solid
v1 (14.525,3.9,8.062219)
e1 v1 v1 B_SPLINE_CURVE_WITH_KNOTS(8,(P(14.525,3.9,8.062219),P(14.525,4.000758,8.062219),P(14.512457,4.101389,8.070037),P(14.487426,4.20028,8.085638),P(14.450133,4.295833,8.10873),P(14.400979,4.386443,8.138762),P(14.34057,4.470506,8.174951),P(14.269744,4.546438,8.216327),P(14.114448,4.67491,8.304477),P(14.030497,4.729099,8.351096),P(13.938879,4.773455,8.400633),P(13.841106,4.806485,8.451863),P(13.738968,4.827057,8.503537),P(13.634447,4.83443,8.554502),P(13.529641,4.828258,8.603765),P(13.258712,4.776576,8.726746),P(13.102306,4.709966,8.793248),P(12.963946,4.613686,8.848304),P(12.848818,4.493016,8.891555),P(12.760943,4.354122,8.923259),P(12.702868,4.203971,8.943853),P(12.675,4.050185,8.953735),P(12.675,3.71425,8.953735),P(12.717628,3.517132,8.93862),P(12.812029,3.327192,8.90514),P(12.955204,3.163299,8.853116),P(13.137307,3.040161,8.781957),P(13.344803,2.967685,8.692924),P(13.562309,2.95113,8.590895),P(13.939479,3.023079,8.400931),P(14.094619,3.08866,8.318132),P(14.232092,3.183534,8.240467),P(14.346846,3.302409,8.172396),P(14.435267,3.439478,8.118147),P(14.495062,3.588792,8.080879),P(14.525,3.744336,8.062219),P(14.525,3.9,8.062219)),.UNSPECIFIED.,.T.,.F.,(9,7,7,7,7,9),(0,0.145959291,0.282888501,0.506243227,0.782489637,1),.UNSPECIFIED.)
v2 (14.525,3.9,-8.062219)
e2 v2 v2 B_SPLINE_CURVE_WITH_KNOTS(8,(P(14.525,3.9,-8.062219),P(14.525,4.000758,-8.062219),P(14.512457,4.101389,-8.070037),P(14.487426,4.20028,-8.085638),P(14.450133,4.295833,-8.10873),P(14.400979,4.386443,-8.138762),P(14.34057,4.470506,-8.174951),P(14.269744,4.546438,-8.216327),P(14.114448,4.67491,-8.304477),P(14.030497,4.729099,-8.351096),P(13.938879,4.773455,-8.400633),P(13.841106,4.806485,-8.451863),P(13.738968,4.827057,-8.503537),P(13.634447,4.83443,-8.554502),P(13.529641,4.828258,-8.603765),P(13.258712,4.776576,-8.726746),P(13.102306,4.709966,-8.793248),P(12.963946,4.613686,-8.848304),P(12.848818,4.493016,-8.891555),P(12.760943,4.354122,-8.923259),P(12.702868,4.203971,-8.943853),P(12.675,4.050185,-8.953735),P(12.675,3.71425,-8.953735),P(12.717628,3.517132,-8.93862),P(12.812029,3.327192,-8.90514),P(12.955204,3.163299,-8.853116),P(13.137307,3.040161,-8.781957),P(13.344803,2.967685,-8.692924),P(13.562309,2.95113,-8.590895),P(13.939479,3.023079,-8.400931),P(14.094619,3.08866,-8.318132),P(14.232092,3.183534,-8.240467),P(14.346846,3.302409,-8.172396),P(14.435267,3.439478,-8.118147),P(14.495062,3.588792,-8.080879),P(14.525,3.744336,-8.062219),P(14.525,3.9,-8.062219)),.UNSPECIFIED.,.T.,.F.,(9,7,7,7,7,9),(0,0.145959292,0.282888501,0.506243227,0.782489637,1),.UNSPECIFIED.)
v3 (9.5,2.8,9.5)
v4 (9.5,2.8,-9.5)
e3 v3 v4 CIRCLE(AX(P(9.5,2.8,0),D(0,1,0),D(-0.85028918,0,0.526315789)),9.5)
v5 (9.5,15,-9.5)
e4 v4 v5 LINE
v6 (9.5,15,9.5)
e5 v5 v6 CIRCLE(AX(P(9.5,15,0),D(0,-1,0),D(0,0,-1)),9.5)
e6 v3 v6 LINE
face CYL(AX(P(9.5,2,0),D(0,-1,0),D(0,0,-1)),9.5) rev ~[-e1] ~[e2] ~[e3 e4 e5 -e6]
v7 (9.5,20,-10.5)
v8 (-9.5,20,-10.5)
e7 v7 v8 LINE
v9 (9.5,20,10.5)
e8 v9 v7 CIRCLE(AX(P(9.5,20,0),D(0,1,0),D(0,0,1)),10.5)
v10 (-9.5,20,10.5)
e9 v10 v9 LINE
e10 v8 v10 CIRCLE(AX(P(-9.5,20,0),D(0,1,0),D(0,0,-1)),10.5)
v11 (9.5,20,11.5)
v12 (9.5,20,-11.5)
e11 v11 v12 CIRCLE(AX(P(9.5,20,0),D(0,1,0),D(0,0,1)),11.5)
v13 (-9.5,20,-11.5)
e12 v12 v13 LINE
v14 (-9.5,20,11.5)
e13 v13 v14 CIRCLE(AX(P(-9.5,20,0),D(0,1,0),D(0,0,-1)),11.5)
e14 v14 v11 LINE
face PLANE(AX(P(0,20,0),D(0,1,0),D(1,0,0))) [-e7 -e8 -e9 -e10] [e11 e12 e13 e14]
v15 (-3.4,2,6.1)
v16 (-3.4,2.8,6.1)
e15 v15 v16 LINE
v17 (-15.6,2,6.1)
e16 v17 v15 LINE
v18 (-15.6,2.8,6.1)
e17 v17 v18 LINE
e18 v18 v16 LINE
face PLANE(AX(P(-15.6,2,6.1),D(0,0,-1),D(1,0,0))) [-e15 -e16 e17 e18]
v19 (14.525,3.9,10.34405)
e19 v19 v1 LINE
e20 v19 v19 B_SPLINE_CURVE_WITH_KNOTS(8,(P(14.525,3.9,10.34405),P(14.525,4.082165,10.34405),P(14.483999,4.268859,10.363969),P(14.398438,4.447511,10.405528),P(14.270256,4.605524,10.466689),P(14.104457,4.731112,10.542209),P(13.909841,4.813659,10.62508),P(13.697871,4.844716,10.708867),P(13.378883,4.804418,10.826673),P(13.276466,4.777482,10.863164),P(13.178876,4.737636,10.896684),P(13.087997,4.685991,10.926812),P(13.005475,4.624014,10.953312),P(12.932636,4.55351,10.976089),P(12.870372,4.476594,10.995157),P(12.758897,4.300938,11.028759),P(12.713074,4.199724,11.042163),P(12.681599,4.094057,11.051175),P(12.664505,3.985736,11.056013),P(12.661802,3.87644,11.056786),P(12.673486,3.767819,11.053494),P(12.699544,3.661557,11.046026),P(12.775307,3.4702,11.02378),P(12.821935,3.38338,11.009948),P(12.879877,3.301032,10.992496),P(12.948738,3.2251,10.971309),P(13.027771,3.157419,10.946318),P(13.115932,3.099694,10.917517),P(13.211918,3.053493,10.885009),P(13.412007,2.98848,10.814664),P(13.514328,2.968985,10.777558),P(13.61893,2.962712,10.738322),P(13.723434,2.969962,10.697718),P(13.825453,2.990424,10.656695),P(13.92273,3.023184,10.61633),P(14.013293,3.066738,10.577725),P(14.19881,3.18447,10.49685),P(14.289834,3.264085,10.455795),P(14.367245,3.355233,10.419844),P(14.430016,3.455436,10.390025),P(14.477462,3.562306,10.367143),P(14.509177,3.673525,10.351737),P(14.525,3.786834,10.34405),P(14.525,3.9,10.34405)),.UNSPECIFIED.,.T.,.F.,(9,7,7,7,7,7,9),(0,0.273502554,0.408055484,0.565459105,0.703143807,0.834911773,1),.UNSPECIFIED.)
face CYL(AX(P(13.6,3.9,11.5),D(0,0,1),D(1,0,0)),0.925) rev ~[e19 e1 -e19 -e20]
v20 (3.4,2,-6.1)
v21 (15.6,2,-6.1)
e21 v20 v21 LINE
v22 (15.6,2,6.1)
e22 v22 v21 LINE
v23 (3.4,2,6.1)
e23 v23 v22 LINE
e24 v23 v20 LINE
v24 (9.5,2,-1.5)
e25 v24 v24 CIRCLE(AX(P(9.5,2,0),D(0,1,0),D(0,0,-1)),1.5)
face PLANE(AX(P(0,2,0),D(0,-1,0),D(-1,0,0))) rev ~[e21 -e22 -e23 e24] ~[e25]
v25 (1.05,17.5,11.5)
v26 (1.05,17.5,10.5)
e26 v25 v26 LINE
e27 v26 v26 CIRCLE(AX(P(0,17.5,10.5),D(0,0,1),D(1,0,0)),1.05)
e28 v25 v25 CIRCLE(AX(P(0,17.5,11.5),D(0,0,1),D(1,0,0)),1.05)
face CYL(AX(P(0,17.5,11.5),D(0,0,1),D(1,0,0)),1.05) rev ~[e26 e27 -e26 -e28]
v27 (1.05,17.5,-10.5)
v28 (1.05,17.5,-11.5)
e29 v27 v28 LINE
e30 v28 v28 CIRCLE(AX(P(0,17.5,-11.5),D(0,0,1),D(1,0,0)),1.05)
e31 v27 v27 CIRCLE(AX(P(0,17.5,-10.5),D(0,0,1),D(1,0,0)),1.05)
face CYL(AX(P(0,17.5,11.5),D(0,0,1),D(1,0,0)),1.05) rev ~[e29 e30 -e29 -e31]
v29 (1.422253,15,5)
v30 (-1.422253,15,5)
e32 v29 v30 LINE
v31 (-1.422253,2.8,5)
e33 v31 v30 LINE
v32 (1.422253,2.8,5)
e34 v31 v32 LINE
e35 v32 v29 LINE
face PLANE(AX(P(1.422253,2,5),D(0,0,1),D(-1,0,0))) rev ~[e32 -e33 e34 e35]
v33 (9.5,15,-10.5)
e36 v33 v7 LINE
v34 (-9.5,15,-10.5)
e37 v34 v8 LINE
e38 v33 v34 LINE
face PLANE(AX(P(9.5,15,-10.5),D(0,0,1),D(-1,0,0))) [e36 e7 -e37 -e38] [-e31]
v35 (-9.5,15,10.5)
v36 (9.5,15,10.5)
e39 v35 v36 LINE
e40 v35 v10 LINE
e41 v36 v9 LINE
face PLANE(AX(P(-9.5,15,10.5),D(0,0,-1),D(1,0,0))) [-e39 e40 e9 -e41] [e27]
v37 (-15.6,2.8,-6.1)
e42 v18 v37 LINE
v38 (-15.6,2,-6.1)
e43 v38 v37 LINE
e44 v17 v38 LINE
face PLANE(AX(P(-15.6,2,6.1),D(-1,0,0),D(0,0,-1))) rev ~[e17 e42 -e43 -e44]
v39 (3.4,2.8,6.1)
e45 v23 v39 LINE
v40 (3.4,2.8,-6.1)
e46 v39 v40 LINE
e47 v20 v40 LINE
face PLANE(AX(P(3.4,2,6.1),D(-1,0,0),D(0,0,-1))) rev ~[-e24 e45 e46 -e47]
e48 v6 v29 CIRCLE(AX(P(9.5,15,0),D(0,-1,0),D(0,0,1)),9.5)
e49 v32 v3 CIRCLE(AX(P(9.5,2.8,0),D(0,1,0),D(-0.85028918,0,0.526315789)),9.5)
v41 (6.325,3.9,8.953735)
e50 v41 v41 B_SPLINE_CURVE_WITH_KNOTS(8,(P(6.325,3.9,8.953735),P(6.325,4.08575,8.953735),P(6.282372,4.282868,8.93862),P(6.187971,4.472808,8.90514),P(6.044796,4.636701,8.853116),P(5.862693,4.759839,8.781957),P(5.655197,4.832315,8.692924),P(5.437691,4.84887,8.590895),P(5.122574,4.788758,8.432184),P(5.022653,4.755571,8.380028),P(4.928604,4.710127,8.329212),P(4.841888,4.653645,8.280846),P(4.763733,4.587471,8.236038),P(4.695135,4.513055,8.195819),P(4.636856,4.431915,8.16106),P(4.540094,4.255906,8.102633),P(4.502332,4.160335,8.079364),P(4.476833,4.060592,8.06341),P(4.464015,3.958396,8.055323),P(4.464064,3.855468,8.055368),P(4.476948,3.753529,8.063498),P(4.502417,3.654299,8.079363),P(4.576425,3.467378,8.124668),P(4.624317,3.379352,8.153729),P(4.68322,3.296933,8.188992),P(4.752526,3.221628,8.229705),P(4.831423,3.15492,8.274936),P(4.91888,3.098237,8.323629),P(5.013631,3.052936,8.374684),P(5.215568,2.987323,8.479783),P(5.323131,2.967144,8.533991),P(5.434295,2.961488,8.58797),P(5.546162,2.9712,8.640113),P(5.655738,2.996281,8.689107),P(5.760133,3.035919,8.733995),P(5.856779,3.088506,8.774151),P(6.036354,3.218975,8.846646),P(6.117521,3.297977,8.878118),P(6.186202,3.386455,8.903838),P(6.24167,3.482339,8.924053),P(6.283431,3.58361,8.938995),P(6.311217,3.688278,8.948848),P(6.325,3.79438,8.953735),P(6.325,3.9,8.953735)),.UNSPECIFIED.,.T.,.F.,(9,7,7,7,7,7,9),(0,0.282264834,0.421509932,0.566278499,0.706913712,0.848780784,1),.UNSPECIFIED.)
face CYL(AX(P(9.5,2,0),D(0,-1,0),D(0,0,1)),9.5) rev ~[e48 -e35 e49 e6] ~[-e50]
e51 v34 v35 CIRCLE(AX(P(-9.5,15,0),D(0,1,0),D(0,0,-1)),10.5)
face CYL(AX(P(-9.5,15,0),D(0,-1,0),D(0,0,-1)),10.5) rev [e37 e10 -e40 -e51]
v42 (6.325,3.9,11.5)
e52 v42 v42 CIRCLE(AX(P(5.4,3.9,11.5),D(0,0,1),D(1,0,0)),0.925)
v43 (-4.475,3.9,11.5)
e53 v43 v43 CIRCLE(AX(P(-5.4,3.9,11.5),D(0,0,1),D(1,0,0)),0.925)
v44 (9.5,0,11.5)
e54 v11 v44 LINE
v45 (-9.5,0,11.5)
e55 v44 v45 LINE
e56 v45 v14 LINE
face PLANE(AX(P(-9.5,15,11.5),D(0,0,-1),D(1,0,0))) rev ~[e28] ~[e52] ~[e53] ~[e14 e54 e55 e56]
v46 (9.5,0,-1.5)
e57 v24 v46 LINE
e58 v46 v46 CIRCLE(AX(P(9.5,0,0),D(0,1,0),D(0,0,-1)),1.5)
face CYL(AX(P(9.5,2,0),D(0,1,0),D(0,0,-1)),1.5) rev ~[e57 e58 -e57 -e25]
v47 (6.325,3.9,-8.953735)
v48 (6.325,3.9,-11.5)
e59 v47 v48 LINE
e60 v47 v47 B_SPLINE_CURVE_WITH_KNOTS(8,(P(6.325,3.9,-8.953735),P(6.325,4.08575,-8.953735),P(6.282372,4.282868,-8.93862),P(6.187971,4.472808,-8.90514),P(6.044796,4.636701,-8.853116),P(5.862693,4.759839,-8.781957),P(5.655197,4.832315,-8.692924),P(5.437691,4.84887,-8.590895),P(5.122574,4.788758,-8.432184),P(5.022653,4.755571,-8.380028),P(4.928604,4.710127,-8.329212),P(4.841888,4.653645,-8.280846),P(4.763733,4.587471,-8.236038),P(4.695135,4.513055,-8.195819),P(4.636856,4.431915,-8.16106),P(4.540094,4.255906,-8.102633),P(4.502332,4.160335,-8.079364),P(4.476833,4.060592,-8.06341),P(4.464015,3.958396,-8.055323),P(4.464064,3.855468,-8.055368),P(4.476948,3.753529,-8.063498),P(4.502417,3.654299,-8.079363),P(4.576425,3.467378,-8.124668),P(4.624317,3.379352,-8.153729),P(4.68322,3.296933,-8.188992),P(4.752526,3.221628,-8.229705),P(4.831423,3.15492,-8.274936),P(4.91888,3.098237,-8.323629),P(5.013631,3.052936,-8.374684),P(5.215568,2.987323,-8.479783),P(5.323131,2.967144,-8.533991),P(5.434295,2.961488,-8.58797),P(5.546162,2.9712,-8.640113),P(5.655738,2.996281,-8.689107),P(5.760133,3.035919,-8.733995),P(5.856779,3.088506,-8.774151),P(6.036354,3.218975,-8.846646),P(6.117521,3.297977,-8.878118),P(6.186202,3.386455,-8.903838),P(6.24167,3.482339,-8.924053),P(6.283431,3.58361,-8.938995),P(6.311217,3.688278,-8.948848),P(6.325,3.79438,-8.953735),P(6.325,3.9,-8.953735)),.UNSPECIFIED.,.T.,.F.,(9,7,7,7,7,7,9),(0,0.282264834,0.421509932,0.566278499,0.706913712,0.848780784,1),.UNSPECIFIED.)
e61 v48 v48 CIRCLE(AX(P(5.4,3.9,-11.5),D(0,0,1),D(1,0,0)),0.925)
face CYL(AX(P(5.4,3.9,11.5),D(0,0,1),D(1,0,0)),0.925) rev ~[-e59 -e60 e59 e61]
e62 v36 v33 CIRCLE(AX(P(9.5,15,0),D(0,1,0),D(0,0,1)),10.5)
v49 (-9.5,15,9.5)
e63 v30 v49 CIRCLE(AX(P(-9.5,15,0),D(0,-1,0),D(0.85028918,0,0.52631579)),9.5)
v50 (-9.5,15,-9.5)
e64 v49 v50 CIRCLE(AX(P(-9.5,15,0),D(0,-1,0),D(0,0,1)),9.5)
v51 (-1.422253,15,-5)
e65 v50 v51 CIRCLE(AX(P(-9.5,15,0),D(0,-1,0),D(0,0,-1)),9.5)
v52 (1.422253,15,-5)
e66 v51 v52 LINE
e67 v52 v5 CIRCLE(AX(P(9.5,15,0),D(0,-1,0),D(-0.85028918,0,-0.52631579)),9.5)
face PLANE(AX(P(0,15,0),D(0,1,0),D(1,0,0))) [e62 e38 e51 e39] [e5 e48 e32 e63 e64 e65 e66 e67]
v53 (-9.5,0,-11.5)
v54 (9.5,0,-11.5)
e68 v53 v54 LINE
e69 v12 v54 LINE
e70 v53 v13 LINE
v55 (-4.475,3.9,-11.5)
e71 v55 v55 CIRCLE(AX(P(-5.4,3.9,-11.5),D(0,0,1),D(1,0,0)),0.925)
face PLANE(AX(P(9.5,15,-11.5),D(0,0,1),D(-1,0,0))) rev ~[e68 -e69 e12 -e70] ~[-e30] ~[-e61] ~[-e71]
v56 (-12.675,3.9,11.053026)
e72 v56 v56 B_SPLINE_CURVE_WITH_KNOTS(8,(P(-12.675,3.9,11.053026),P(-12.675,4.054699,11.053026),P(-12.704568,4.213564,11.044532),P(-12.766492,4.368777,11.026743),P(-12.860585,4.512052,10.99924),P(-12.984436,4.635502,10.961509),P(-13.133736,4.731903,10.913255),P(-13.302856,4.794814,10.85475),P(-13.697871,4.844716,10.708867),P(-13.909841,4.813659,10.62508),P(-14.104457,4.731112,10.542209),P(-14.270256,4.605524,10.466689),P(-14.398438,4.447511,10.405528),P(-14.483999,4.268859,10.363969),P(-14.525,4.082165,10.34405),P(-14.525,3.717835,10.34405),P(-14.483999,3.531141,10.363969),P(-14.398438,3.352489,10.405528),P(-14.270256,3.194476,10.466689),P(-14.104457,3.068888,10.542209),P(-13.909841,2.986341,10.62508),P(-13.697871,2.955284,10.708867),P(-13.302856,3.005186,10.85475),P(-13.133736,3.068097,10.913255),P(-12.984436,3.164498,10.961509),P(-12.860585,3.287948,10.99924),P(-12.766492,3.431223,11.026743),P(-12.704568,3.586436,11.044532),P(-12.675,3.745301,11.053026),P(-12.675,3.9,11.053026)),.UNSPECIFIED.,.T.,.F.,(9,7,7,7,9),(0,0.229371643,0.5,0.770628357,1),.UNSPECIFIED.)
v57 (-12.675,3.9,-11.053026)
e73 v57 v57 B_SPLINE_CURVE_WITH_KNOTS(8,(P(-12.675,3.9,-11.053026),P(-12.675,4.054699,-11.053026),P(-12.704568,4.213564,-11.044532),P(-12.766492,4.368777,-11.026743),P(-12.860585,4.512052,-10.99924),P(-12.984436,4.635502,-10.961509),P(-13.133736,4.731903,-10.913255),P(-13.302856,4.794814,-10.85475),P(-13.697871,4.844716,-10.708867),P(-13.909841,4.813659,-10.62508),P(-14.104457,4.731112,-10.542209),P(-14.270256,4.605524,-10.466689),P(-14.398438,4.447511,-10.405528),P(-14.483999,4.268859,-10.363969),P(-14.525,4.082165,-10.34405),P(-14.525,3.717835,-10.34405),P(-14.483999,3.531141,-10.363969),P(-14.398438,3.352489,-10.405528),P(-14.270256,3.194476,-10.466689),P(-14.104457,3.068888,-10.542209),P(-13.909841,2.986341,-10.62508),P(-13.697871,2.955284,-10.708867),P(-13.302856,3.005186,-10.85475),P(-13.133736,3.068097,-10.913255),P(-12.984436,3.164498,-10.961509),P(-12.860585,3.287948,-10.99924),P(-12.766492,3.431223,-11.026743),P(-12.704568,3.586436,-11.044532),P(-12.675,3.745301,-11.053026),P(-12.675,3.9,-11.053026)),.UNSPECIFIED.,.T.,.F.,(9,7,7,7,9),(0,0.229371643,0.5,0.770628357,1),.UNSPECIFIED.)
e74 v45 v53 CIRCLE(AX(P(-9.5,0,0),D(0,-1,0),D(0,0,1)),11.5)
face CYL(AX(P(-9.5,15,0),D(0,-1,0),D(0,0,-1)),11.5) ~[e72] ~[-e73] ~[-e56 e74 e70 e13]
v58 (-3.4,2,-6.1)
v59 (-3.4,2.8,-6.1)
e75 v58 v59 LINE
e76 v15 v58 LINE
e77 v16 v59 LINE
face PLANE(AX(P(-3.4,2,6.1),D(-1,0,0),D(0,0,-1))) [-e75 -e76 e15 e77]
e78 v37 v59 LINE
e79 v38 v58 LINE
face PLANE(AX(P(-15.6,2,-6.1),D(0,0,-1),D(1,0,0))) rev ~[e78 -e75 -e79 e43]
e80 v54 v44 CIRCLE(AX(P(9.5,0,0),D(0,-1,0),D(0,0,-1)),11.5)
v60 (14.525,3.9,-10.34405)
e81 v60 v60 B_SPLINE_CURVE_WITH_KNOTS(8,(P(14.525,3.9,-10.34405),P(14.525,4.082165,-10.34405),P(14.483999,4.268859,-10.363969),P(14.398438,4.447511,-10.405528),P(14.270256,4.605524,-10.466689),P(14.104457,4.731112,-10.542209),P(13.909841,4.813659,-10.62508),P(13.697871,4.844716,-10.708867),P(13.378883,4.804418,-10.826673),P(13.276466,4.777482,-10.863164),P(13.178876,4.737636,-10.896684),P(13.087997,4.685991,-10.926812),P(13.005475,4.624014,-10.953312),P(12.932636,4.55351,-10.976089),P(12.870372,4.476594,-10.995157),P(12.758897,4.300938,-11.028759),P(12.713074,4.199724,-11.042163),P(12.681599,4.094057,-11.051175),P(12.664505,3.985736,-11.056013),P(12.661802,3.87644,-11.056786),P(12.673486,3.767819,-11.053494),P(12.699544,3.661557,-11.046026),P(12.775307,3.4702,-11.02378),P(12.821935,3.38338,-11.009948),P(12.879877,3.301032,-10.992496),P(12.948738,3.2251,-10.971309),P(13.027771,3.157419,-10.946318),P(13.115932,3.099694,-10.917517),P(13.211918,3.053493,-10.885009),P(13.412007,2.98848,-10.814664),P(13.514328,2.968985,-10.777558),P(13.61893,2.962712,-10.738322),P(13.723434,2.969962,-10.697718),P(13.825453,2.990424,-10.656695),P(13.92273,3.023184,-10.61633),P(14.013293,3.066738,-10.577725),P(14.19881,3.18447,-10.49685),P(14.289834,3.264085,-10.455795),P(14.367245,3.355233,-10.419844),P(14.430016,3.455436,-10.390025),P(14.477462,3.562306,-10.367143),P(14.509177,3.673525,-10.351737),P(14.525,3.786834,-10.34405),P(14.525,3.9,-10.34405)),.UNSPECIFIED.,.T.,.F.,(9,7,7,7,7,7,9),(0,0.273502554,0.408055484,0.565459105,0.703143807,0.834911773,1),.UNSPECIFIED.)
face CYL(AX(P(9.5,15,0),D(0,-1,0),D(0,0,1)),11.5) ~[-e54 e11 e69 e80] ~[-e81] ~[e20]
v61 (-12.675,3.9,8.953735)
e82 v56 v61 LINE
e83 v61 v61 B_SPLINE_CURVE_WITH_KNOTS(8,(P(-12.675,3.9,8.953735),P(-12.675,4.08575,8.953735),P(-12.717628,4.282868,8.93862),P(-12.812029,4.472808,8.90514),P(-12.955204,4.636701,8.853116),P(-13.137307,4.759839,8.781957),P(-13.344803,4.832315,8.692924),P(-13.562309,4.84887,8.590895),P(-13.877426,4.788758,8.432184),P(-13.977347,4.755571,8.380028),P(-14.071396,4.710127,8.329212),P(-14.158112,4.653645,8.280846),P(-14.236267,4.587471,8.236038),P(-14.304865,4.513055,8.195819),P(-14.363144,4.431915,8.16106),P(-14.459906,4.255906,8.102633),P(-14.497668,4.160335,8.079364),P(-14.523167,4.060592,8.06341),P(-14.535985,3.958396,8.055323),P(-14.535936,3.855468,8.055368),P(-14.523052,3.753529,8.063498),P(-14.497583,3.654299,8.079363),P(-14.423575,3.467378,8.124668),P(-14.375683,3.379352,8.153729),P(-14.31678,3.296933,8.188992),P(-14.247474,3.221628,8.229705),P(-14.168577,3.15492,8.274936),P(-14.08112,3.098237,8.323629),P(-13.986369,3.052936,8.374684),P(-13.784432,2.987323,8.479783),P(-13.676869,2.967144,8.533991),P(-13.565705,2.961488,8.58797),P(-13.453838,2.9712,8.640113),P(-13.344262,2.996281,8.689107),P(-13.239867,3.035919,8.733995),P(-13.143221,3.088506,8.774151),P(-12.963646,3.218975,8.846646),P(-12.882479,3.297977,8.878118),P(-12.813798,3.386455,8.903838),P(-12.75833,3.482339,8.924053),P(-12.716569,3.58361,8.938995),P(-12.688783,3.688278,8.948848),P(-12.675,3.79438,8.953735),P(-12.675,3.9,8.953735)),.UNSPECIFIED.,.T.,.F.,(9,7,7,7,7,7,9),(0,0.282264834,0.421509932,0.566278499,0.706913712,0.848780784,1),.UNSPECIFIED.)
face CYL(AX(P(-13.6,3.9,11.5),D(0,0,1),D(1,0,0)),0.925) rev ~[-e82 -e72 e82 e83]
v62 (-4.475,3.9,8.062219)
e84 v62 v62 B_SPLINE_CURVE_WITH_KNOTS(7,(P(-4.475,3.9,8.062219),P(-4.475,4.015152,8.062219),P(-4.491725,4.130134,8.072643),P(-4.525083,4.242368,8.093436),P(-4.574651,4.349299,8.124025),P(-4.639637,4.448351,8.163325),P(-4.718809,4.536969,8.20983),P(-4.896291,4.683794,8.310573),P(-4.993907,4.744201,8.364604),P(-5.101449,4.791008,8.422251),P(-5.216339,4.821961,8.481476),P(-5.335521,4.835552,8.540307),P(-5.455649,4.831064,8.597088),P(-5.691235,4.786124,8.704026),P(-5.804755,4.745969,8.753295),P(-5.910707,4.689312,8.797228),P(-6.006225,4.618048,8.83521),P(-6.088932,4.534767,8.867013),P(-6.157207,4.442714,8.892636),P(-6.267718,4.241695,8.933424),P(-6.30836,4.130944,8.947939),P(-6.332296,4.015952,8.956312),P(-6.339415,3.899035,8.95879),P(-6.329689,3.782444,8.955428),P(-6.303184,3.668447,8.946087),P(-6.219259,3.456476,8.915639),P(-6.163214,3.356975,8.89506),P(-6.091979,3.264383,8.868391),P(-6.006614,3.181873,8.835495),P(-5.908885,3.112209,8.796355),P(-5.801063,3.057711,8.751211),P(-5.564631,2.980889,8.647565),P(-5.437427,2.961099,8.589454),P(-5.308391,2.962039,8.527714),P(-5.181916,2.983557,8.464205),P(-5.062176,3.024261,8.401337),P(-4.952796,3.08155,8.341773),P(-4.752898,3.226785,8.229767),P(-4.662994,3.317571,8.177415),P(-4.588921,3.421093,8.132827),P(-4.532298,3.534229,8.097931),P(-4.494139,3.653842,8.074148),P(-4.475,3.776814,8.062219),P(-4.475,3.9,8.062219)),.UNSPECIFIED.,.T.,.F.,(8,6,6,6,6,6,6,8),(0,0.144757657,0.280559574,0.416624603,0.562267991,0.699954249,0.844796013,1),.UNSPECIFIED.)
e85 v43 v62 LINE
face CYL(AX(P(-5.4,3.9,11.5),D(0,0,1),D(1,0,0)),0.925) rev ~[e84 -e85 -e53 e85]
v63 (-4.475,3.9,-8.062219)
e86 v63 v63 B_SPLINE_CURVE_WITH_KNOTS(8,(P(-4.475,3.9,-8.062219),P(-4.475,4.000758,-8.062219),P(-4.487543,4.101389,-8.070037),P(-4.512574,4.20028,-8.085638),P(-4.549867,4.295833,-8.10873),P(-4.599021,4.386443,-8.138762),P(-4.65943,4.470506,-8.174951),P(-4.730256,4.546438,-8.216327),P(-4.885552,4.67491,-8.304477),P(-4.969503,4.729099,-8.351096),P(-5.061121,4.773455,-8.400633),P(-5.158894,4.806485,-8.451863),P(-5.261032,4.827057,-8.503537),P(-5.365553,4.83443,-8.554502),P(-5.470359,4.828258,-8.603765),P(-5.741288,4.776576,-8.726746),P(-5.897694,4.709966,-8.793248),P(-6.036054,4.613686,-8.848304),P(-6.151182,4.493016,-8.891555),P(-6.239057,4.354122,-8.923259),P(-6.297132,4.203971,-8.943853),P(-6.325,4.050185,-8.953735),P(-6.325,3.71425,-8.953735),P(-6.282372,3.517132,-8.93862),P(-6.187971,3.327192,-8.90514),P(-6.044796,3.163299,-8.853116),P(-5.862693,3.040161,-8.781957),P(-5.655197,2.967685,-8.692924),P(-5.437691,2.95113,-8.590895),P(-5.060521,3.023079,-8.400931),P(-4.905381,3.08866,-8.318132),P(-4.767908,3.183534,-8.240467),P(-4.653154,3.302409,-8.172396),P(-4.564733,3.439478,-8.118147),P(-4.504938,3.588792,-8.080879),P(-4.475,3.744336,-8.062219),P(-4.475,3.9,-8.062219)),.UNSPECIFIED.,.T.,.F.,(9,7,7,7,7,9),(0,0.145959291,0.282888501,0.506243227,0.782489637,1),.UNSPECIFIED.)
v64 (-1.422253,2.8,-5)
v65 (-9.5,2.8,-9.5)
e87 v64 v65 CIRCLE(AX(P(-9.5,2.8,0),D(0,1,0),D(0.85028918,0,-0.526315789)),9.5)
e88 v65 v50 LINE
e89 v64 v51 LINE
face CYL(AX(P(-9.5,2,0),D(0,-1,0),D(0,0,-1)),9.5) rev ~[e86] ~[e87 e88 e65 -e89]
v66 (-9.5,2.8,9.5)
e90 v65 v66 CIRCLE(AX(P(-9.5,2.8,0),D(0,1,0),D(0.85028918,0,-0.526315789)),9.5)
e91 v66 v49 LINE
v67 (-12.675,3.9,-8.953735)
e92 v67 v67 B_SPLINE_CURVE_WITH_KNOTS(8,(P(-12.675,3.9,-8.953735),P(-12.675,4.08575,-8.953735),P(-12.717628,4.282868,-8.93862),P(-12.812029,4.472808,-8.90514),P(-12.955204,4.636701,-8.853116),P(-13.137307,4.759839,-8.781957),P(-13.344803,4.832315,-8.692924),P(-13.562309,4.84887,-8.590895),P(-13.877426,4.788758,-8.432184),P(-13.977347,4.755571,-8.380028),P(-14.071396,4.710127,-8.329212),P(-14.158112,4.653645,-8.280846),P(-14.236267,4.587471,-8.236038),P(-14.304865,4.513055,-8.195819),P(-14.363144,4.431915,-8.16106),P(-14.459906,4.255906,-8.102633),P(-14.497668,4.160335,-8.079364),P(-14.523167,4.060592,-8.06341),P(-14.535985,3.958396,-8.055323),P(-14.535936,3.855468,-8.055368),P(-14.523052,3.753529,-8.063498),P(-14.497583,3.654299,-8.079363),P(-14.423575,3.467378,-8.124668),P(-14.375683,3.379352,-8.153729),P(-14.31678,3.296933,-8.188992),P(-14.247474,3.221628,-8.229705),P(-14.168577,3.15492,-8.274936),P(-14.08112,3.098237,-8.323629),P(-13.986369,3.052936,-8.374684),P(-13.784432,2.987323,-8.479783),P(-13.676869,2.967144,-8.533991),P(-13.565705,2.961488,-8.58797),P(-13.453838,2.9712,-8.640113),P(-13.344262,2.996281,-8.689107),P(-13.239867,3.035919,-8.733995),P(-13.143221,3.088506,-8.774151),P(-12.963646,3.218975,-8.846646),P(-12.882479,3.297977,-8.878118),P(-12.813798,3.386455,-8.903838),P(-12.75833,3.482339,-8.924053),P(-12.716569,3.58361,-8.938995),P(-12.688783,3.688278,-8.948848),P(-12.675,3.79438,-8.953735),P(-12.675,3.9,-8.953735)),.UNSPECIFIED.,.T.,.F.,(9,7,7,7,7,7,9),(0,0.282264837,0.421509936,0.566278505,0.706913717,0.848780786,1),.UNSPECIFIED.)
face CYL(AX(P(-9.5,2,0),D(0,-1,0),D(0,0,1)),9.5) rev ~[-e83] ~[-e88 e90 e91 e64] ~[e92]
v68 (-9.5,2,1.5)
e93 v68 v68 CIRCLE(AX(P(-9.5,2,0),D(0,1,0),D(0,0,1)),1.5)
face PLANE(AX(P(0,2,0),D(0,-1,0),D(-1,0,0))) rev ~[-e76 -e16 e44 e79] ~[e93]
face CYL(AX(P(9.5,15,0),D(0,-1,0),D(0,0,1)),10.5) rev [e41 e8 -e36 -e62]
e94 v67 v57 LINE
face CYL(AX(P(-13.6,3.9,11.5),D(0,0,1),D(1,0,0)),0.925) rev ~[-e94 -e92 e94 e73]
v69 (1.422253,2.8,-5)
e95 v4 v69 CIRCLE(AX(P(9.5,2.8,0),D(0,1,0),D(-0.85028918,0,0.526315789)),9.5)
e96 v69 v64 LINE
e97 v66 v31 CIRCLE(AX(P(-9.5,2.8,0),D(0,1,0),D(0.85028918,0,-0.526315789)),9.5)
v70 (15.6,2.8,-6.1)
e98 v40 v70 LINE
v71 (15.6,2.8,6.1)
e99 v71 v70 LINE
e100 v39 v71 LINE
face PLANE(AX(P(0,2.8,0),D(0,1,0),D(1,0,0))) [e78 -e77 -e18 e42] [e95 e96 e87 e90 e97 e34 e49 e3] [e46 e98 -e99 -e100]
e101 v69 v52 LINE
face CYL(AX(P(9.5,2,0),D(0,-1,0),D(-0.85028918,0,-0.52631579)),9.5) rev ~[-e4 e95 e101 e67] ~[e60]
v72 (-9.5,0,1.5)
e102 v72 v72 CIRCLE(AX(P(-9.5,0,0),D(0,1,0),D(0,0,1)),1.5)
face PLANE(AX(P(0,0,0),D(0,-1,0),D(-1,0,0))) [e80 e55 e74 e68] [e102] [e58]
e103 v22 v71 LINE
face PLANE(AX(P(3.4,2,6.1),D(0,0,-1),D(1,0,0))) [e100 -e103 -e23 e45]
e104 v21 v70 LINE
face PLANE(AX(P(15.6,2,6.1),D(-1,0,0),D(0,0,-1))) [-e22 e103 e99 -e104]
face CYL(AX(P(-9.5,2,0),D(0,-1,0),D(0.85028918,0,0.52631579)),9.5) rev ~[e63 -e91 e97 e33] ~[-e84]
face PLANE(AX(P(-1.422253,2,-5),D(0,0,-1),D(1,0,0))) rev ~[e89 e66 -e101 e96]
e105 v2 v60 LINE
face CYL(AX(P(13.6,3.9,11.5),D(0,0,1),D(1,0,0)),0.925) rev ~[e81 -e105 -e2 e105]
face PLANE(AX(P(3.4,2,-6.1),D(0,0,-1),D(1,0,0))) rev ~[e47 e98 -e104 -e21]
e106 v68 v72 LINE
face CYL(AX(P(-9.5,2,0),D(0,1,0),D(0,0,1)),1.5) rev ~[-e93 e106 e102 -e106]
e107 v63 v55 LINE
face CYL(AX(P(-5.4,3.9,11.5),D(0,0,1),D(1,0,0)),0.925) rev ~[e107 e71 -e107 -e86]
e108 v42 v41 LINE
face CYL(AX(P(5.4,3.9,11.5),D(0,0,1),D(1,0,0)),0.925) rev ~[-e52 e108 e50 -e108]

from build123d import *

# Parameters (mm, degrees)
BOSS_EXTRUDE1_DEPTH = 2
BOSS_EXTRUDE2_DEPTH = 13
BOSS_EXTRUDE3_DEPTH = 5
SKETCH8_R           = 1.5
CUT_EXTRUDE3_DEPTH  = 30.954131602
SKETCH10_W          = 12.2
SKETCH10_H          = 12.2
BOSS_EXTRUDE4_DEPTH = 0.8
SKETCH11_R          = 0.925
CUT_EXTRUDE4_DEPTH  = 38.013511047
SKETCH12_R          = 1.05
CUT_EXTRUDE5_DEPTH  = 38.01351122


with BuildPart() as part:
    # Sketch1 → Boss-Extrude1 (new body)
    with BuildSketch(Plane(origin=(0, 0, 0), x_dir=(1, 0, 0), z_dir=(0, 1, 0))):
        with BuildLine():
            Line((-9.5, 11.5), (9.5, 11.5))
            ThreePointArc((9.5, 11.5), (21, 0), (9.5, -11.5))
            Line((9.5, -11.5), (-9.5, -11.5))
            ThreePointArc((-9.5, -11.5), (-21, 0), (-9.5, 11.5))
        make_face()
    extrude(amount=BOSS_EXTRUDE1_DEPTH)

    # Sketch2 → Boss-Extrude2 (add)
    with BuildSketch(Plane(origin=(0, 2, 0), x_dir=(1, 0, 0), z_dir=(0, 1, 0))):
        with BuildLine():
            ThreePointArc((-9.5, 11.5), (-21, 0), (-9.5, -11.5))
            Line((-9.5, -11.5), (9.5, -11.5))
            ThreePointArc((9.5, -11.5), (21, 0), (9.5, 11.5))
            Line((9.5, 11.5), (-9.5, 11.5))
        make_face()
        with BuildLine():
            ThreePointArc((-9.5, 9.5), (-4.876689498, 8.299096336), (-1.422252789, 5))
            Line((-1.422252789, 5), (1.422252789, 5))
            ThreePointArc((1.422252789, 5), (4.876689498, 8.299096336), (9.5, 9.5))
            ThreePointArc((9.5, 9.5), (19, 0), (9.5, -9.5))
            ThreePointArc((9.5, -9.5), (4.876689498, -8.299096336), (1.422252789, -5))
            Line((1.422252789, -5), (-1.422252789, -5))
            ThreePointArc((-1.422252789, -5), (-4.876689498, -8.299096336), (-9.5, -9.5))
            ThreePointArc((-9.5, -9.5), (-19, 0), (-9.5, 9.5))
        make_face(mode=Mode.SUBTRACT)
    extrude(amount=BOSS_EXTRUDE2_DEPTH)

    # Sketch4 → Boss-Extrude3 (add)
    with BuildSketch(Plane(origin=(0, 15, 0), x_dir=(1, 0, 0), z_dir=(0, 1, 0))):
        with BuildLine():
            Line((9.5, 11.5), (-9.5, 11.5))
            ThreePointArc((-9.5, 11.5), (-21, 0), (-9.5, -11.5))
            Line((-9.5, -11.5), (9.5, -11.5))
            ThreePointArc((9.5, -11.5), (21, 0), (9.5, 11.5))
        make_face()
        with BuildLine():
            Line((9.5, 10.5), (-9.5, 10.5))
            ThreePointArc((-9.5, 10.5), (-20, 0), (-9.5, -10.5))
            Line((-9.5, -10.5), (9.5, -10.5))
            ThreePointArc((9.5, -10.5), (20, 0), (9.5, 10.5))
        make_face(mode=Mode.SUBTRACT)
    extrude(amount=BOSS_EXTRUDE3_DEPTH)

    # Sketch8 → Cut-Extrude3 (cut, through all)
    with BuildSketch(Plane(origin=(0, 2, 0), x_dir=(1, 0, 0), z_dir=(0, 1, 0))):
        with Locations(Location((-9.5, 0, 0), (0, 0, 270))):
            Circle(SKETCH8_R)
        with Locations(Location((9.5, 0, 0), (0, 0, 90))):
            Circle(SKETCH8_R)
    extrude(amount=-CUT_EXTRUDE3_DEPTH, mode=Mode.SUBTRACT)

    # Sketch10 → Boss-Extrude4 (add)
    with BuildSketch(Plane(origin=(0, 2, 0), x_dir=(1, 0, 0), z_dir=(0, 1, 0))):
        with BuildLine():
            Line((-1.422252789, -5), (1.422252789, -5))
            ThreePointArc((1.422252789, -5), (19, 0), (1.422252789, 5))
            Line((1.422252789, 5), (-1.422252789, 5))
            ThreePointArc((-1.422252789, 5), (-19, 0), (-1.422252789, -5))
        make_face()
        with Locations((9.5, 0)):
            Rectangle(SKETCH10_W, SKETCH10_H, mode=Mode.SUBTRACT)
        with Locations((-9.5, 0)):
            Rectangle(SKETCH10_W, SKETCH10_H, mode=Mode.SUBTRACT)
    extrude(amount=BOSS_EXTRUDE4_DEPTH)

    # Sketch11 → Cut-Extrude4 (cut, through all)
    with BuildSketch(Plane.XY.offset(11.5)):
        with Locations((-5.4, 3.9)):
            Circle(SKETCH11_R)
        with Locations((-13.6, 3.9)):
            Circle(SKETCH11_R)
        with Locations((13.6, 3.9)):
            Circle(SKETCH11_R)
        with Locations((5.4, 3.9)):
            Circle(SKETCH11_R)
    extrude(amount=-CUT_EXTRUDE4_DEPTH, mode=Mode.SUBTRACT)

    # Sketch12 → Cut-Extrude5 (cut, through all)
    with BuildSketch(Plane.XY.offset(11.5)):
        with Locations((0, 17.5)):
            Circle(SKETCH12_R)
    extrude(amount=-CUT_EXTRUDE5_DEPTH, mode=Mode.SUBTRACT)


solid = part.part
